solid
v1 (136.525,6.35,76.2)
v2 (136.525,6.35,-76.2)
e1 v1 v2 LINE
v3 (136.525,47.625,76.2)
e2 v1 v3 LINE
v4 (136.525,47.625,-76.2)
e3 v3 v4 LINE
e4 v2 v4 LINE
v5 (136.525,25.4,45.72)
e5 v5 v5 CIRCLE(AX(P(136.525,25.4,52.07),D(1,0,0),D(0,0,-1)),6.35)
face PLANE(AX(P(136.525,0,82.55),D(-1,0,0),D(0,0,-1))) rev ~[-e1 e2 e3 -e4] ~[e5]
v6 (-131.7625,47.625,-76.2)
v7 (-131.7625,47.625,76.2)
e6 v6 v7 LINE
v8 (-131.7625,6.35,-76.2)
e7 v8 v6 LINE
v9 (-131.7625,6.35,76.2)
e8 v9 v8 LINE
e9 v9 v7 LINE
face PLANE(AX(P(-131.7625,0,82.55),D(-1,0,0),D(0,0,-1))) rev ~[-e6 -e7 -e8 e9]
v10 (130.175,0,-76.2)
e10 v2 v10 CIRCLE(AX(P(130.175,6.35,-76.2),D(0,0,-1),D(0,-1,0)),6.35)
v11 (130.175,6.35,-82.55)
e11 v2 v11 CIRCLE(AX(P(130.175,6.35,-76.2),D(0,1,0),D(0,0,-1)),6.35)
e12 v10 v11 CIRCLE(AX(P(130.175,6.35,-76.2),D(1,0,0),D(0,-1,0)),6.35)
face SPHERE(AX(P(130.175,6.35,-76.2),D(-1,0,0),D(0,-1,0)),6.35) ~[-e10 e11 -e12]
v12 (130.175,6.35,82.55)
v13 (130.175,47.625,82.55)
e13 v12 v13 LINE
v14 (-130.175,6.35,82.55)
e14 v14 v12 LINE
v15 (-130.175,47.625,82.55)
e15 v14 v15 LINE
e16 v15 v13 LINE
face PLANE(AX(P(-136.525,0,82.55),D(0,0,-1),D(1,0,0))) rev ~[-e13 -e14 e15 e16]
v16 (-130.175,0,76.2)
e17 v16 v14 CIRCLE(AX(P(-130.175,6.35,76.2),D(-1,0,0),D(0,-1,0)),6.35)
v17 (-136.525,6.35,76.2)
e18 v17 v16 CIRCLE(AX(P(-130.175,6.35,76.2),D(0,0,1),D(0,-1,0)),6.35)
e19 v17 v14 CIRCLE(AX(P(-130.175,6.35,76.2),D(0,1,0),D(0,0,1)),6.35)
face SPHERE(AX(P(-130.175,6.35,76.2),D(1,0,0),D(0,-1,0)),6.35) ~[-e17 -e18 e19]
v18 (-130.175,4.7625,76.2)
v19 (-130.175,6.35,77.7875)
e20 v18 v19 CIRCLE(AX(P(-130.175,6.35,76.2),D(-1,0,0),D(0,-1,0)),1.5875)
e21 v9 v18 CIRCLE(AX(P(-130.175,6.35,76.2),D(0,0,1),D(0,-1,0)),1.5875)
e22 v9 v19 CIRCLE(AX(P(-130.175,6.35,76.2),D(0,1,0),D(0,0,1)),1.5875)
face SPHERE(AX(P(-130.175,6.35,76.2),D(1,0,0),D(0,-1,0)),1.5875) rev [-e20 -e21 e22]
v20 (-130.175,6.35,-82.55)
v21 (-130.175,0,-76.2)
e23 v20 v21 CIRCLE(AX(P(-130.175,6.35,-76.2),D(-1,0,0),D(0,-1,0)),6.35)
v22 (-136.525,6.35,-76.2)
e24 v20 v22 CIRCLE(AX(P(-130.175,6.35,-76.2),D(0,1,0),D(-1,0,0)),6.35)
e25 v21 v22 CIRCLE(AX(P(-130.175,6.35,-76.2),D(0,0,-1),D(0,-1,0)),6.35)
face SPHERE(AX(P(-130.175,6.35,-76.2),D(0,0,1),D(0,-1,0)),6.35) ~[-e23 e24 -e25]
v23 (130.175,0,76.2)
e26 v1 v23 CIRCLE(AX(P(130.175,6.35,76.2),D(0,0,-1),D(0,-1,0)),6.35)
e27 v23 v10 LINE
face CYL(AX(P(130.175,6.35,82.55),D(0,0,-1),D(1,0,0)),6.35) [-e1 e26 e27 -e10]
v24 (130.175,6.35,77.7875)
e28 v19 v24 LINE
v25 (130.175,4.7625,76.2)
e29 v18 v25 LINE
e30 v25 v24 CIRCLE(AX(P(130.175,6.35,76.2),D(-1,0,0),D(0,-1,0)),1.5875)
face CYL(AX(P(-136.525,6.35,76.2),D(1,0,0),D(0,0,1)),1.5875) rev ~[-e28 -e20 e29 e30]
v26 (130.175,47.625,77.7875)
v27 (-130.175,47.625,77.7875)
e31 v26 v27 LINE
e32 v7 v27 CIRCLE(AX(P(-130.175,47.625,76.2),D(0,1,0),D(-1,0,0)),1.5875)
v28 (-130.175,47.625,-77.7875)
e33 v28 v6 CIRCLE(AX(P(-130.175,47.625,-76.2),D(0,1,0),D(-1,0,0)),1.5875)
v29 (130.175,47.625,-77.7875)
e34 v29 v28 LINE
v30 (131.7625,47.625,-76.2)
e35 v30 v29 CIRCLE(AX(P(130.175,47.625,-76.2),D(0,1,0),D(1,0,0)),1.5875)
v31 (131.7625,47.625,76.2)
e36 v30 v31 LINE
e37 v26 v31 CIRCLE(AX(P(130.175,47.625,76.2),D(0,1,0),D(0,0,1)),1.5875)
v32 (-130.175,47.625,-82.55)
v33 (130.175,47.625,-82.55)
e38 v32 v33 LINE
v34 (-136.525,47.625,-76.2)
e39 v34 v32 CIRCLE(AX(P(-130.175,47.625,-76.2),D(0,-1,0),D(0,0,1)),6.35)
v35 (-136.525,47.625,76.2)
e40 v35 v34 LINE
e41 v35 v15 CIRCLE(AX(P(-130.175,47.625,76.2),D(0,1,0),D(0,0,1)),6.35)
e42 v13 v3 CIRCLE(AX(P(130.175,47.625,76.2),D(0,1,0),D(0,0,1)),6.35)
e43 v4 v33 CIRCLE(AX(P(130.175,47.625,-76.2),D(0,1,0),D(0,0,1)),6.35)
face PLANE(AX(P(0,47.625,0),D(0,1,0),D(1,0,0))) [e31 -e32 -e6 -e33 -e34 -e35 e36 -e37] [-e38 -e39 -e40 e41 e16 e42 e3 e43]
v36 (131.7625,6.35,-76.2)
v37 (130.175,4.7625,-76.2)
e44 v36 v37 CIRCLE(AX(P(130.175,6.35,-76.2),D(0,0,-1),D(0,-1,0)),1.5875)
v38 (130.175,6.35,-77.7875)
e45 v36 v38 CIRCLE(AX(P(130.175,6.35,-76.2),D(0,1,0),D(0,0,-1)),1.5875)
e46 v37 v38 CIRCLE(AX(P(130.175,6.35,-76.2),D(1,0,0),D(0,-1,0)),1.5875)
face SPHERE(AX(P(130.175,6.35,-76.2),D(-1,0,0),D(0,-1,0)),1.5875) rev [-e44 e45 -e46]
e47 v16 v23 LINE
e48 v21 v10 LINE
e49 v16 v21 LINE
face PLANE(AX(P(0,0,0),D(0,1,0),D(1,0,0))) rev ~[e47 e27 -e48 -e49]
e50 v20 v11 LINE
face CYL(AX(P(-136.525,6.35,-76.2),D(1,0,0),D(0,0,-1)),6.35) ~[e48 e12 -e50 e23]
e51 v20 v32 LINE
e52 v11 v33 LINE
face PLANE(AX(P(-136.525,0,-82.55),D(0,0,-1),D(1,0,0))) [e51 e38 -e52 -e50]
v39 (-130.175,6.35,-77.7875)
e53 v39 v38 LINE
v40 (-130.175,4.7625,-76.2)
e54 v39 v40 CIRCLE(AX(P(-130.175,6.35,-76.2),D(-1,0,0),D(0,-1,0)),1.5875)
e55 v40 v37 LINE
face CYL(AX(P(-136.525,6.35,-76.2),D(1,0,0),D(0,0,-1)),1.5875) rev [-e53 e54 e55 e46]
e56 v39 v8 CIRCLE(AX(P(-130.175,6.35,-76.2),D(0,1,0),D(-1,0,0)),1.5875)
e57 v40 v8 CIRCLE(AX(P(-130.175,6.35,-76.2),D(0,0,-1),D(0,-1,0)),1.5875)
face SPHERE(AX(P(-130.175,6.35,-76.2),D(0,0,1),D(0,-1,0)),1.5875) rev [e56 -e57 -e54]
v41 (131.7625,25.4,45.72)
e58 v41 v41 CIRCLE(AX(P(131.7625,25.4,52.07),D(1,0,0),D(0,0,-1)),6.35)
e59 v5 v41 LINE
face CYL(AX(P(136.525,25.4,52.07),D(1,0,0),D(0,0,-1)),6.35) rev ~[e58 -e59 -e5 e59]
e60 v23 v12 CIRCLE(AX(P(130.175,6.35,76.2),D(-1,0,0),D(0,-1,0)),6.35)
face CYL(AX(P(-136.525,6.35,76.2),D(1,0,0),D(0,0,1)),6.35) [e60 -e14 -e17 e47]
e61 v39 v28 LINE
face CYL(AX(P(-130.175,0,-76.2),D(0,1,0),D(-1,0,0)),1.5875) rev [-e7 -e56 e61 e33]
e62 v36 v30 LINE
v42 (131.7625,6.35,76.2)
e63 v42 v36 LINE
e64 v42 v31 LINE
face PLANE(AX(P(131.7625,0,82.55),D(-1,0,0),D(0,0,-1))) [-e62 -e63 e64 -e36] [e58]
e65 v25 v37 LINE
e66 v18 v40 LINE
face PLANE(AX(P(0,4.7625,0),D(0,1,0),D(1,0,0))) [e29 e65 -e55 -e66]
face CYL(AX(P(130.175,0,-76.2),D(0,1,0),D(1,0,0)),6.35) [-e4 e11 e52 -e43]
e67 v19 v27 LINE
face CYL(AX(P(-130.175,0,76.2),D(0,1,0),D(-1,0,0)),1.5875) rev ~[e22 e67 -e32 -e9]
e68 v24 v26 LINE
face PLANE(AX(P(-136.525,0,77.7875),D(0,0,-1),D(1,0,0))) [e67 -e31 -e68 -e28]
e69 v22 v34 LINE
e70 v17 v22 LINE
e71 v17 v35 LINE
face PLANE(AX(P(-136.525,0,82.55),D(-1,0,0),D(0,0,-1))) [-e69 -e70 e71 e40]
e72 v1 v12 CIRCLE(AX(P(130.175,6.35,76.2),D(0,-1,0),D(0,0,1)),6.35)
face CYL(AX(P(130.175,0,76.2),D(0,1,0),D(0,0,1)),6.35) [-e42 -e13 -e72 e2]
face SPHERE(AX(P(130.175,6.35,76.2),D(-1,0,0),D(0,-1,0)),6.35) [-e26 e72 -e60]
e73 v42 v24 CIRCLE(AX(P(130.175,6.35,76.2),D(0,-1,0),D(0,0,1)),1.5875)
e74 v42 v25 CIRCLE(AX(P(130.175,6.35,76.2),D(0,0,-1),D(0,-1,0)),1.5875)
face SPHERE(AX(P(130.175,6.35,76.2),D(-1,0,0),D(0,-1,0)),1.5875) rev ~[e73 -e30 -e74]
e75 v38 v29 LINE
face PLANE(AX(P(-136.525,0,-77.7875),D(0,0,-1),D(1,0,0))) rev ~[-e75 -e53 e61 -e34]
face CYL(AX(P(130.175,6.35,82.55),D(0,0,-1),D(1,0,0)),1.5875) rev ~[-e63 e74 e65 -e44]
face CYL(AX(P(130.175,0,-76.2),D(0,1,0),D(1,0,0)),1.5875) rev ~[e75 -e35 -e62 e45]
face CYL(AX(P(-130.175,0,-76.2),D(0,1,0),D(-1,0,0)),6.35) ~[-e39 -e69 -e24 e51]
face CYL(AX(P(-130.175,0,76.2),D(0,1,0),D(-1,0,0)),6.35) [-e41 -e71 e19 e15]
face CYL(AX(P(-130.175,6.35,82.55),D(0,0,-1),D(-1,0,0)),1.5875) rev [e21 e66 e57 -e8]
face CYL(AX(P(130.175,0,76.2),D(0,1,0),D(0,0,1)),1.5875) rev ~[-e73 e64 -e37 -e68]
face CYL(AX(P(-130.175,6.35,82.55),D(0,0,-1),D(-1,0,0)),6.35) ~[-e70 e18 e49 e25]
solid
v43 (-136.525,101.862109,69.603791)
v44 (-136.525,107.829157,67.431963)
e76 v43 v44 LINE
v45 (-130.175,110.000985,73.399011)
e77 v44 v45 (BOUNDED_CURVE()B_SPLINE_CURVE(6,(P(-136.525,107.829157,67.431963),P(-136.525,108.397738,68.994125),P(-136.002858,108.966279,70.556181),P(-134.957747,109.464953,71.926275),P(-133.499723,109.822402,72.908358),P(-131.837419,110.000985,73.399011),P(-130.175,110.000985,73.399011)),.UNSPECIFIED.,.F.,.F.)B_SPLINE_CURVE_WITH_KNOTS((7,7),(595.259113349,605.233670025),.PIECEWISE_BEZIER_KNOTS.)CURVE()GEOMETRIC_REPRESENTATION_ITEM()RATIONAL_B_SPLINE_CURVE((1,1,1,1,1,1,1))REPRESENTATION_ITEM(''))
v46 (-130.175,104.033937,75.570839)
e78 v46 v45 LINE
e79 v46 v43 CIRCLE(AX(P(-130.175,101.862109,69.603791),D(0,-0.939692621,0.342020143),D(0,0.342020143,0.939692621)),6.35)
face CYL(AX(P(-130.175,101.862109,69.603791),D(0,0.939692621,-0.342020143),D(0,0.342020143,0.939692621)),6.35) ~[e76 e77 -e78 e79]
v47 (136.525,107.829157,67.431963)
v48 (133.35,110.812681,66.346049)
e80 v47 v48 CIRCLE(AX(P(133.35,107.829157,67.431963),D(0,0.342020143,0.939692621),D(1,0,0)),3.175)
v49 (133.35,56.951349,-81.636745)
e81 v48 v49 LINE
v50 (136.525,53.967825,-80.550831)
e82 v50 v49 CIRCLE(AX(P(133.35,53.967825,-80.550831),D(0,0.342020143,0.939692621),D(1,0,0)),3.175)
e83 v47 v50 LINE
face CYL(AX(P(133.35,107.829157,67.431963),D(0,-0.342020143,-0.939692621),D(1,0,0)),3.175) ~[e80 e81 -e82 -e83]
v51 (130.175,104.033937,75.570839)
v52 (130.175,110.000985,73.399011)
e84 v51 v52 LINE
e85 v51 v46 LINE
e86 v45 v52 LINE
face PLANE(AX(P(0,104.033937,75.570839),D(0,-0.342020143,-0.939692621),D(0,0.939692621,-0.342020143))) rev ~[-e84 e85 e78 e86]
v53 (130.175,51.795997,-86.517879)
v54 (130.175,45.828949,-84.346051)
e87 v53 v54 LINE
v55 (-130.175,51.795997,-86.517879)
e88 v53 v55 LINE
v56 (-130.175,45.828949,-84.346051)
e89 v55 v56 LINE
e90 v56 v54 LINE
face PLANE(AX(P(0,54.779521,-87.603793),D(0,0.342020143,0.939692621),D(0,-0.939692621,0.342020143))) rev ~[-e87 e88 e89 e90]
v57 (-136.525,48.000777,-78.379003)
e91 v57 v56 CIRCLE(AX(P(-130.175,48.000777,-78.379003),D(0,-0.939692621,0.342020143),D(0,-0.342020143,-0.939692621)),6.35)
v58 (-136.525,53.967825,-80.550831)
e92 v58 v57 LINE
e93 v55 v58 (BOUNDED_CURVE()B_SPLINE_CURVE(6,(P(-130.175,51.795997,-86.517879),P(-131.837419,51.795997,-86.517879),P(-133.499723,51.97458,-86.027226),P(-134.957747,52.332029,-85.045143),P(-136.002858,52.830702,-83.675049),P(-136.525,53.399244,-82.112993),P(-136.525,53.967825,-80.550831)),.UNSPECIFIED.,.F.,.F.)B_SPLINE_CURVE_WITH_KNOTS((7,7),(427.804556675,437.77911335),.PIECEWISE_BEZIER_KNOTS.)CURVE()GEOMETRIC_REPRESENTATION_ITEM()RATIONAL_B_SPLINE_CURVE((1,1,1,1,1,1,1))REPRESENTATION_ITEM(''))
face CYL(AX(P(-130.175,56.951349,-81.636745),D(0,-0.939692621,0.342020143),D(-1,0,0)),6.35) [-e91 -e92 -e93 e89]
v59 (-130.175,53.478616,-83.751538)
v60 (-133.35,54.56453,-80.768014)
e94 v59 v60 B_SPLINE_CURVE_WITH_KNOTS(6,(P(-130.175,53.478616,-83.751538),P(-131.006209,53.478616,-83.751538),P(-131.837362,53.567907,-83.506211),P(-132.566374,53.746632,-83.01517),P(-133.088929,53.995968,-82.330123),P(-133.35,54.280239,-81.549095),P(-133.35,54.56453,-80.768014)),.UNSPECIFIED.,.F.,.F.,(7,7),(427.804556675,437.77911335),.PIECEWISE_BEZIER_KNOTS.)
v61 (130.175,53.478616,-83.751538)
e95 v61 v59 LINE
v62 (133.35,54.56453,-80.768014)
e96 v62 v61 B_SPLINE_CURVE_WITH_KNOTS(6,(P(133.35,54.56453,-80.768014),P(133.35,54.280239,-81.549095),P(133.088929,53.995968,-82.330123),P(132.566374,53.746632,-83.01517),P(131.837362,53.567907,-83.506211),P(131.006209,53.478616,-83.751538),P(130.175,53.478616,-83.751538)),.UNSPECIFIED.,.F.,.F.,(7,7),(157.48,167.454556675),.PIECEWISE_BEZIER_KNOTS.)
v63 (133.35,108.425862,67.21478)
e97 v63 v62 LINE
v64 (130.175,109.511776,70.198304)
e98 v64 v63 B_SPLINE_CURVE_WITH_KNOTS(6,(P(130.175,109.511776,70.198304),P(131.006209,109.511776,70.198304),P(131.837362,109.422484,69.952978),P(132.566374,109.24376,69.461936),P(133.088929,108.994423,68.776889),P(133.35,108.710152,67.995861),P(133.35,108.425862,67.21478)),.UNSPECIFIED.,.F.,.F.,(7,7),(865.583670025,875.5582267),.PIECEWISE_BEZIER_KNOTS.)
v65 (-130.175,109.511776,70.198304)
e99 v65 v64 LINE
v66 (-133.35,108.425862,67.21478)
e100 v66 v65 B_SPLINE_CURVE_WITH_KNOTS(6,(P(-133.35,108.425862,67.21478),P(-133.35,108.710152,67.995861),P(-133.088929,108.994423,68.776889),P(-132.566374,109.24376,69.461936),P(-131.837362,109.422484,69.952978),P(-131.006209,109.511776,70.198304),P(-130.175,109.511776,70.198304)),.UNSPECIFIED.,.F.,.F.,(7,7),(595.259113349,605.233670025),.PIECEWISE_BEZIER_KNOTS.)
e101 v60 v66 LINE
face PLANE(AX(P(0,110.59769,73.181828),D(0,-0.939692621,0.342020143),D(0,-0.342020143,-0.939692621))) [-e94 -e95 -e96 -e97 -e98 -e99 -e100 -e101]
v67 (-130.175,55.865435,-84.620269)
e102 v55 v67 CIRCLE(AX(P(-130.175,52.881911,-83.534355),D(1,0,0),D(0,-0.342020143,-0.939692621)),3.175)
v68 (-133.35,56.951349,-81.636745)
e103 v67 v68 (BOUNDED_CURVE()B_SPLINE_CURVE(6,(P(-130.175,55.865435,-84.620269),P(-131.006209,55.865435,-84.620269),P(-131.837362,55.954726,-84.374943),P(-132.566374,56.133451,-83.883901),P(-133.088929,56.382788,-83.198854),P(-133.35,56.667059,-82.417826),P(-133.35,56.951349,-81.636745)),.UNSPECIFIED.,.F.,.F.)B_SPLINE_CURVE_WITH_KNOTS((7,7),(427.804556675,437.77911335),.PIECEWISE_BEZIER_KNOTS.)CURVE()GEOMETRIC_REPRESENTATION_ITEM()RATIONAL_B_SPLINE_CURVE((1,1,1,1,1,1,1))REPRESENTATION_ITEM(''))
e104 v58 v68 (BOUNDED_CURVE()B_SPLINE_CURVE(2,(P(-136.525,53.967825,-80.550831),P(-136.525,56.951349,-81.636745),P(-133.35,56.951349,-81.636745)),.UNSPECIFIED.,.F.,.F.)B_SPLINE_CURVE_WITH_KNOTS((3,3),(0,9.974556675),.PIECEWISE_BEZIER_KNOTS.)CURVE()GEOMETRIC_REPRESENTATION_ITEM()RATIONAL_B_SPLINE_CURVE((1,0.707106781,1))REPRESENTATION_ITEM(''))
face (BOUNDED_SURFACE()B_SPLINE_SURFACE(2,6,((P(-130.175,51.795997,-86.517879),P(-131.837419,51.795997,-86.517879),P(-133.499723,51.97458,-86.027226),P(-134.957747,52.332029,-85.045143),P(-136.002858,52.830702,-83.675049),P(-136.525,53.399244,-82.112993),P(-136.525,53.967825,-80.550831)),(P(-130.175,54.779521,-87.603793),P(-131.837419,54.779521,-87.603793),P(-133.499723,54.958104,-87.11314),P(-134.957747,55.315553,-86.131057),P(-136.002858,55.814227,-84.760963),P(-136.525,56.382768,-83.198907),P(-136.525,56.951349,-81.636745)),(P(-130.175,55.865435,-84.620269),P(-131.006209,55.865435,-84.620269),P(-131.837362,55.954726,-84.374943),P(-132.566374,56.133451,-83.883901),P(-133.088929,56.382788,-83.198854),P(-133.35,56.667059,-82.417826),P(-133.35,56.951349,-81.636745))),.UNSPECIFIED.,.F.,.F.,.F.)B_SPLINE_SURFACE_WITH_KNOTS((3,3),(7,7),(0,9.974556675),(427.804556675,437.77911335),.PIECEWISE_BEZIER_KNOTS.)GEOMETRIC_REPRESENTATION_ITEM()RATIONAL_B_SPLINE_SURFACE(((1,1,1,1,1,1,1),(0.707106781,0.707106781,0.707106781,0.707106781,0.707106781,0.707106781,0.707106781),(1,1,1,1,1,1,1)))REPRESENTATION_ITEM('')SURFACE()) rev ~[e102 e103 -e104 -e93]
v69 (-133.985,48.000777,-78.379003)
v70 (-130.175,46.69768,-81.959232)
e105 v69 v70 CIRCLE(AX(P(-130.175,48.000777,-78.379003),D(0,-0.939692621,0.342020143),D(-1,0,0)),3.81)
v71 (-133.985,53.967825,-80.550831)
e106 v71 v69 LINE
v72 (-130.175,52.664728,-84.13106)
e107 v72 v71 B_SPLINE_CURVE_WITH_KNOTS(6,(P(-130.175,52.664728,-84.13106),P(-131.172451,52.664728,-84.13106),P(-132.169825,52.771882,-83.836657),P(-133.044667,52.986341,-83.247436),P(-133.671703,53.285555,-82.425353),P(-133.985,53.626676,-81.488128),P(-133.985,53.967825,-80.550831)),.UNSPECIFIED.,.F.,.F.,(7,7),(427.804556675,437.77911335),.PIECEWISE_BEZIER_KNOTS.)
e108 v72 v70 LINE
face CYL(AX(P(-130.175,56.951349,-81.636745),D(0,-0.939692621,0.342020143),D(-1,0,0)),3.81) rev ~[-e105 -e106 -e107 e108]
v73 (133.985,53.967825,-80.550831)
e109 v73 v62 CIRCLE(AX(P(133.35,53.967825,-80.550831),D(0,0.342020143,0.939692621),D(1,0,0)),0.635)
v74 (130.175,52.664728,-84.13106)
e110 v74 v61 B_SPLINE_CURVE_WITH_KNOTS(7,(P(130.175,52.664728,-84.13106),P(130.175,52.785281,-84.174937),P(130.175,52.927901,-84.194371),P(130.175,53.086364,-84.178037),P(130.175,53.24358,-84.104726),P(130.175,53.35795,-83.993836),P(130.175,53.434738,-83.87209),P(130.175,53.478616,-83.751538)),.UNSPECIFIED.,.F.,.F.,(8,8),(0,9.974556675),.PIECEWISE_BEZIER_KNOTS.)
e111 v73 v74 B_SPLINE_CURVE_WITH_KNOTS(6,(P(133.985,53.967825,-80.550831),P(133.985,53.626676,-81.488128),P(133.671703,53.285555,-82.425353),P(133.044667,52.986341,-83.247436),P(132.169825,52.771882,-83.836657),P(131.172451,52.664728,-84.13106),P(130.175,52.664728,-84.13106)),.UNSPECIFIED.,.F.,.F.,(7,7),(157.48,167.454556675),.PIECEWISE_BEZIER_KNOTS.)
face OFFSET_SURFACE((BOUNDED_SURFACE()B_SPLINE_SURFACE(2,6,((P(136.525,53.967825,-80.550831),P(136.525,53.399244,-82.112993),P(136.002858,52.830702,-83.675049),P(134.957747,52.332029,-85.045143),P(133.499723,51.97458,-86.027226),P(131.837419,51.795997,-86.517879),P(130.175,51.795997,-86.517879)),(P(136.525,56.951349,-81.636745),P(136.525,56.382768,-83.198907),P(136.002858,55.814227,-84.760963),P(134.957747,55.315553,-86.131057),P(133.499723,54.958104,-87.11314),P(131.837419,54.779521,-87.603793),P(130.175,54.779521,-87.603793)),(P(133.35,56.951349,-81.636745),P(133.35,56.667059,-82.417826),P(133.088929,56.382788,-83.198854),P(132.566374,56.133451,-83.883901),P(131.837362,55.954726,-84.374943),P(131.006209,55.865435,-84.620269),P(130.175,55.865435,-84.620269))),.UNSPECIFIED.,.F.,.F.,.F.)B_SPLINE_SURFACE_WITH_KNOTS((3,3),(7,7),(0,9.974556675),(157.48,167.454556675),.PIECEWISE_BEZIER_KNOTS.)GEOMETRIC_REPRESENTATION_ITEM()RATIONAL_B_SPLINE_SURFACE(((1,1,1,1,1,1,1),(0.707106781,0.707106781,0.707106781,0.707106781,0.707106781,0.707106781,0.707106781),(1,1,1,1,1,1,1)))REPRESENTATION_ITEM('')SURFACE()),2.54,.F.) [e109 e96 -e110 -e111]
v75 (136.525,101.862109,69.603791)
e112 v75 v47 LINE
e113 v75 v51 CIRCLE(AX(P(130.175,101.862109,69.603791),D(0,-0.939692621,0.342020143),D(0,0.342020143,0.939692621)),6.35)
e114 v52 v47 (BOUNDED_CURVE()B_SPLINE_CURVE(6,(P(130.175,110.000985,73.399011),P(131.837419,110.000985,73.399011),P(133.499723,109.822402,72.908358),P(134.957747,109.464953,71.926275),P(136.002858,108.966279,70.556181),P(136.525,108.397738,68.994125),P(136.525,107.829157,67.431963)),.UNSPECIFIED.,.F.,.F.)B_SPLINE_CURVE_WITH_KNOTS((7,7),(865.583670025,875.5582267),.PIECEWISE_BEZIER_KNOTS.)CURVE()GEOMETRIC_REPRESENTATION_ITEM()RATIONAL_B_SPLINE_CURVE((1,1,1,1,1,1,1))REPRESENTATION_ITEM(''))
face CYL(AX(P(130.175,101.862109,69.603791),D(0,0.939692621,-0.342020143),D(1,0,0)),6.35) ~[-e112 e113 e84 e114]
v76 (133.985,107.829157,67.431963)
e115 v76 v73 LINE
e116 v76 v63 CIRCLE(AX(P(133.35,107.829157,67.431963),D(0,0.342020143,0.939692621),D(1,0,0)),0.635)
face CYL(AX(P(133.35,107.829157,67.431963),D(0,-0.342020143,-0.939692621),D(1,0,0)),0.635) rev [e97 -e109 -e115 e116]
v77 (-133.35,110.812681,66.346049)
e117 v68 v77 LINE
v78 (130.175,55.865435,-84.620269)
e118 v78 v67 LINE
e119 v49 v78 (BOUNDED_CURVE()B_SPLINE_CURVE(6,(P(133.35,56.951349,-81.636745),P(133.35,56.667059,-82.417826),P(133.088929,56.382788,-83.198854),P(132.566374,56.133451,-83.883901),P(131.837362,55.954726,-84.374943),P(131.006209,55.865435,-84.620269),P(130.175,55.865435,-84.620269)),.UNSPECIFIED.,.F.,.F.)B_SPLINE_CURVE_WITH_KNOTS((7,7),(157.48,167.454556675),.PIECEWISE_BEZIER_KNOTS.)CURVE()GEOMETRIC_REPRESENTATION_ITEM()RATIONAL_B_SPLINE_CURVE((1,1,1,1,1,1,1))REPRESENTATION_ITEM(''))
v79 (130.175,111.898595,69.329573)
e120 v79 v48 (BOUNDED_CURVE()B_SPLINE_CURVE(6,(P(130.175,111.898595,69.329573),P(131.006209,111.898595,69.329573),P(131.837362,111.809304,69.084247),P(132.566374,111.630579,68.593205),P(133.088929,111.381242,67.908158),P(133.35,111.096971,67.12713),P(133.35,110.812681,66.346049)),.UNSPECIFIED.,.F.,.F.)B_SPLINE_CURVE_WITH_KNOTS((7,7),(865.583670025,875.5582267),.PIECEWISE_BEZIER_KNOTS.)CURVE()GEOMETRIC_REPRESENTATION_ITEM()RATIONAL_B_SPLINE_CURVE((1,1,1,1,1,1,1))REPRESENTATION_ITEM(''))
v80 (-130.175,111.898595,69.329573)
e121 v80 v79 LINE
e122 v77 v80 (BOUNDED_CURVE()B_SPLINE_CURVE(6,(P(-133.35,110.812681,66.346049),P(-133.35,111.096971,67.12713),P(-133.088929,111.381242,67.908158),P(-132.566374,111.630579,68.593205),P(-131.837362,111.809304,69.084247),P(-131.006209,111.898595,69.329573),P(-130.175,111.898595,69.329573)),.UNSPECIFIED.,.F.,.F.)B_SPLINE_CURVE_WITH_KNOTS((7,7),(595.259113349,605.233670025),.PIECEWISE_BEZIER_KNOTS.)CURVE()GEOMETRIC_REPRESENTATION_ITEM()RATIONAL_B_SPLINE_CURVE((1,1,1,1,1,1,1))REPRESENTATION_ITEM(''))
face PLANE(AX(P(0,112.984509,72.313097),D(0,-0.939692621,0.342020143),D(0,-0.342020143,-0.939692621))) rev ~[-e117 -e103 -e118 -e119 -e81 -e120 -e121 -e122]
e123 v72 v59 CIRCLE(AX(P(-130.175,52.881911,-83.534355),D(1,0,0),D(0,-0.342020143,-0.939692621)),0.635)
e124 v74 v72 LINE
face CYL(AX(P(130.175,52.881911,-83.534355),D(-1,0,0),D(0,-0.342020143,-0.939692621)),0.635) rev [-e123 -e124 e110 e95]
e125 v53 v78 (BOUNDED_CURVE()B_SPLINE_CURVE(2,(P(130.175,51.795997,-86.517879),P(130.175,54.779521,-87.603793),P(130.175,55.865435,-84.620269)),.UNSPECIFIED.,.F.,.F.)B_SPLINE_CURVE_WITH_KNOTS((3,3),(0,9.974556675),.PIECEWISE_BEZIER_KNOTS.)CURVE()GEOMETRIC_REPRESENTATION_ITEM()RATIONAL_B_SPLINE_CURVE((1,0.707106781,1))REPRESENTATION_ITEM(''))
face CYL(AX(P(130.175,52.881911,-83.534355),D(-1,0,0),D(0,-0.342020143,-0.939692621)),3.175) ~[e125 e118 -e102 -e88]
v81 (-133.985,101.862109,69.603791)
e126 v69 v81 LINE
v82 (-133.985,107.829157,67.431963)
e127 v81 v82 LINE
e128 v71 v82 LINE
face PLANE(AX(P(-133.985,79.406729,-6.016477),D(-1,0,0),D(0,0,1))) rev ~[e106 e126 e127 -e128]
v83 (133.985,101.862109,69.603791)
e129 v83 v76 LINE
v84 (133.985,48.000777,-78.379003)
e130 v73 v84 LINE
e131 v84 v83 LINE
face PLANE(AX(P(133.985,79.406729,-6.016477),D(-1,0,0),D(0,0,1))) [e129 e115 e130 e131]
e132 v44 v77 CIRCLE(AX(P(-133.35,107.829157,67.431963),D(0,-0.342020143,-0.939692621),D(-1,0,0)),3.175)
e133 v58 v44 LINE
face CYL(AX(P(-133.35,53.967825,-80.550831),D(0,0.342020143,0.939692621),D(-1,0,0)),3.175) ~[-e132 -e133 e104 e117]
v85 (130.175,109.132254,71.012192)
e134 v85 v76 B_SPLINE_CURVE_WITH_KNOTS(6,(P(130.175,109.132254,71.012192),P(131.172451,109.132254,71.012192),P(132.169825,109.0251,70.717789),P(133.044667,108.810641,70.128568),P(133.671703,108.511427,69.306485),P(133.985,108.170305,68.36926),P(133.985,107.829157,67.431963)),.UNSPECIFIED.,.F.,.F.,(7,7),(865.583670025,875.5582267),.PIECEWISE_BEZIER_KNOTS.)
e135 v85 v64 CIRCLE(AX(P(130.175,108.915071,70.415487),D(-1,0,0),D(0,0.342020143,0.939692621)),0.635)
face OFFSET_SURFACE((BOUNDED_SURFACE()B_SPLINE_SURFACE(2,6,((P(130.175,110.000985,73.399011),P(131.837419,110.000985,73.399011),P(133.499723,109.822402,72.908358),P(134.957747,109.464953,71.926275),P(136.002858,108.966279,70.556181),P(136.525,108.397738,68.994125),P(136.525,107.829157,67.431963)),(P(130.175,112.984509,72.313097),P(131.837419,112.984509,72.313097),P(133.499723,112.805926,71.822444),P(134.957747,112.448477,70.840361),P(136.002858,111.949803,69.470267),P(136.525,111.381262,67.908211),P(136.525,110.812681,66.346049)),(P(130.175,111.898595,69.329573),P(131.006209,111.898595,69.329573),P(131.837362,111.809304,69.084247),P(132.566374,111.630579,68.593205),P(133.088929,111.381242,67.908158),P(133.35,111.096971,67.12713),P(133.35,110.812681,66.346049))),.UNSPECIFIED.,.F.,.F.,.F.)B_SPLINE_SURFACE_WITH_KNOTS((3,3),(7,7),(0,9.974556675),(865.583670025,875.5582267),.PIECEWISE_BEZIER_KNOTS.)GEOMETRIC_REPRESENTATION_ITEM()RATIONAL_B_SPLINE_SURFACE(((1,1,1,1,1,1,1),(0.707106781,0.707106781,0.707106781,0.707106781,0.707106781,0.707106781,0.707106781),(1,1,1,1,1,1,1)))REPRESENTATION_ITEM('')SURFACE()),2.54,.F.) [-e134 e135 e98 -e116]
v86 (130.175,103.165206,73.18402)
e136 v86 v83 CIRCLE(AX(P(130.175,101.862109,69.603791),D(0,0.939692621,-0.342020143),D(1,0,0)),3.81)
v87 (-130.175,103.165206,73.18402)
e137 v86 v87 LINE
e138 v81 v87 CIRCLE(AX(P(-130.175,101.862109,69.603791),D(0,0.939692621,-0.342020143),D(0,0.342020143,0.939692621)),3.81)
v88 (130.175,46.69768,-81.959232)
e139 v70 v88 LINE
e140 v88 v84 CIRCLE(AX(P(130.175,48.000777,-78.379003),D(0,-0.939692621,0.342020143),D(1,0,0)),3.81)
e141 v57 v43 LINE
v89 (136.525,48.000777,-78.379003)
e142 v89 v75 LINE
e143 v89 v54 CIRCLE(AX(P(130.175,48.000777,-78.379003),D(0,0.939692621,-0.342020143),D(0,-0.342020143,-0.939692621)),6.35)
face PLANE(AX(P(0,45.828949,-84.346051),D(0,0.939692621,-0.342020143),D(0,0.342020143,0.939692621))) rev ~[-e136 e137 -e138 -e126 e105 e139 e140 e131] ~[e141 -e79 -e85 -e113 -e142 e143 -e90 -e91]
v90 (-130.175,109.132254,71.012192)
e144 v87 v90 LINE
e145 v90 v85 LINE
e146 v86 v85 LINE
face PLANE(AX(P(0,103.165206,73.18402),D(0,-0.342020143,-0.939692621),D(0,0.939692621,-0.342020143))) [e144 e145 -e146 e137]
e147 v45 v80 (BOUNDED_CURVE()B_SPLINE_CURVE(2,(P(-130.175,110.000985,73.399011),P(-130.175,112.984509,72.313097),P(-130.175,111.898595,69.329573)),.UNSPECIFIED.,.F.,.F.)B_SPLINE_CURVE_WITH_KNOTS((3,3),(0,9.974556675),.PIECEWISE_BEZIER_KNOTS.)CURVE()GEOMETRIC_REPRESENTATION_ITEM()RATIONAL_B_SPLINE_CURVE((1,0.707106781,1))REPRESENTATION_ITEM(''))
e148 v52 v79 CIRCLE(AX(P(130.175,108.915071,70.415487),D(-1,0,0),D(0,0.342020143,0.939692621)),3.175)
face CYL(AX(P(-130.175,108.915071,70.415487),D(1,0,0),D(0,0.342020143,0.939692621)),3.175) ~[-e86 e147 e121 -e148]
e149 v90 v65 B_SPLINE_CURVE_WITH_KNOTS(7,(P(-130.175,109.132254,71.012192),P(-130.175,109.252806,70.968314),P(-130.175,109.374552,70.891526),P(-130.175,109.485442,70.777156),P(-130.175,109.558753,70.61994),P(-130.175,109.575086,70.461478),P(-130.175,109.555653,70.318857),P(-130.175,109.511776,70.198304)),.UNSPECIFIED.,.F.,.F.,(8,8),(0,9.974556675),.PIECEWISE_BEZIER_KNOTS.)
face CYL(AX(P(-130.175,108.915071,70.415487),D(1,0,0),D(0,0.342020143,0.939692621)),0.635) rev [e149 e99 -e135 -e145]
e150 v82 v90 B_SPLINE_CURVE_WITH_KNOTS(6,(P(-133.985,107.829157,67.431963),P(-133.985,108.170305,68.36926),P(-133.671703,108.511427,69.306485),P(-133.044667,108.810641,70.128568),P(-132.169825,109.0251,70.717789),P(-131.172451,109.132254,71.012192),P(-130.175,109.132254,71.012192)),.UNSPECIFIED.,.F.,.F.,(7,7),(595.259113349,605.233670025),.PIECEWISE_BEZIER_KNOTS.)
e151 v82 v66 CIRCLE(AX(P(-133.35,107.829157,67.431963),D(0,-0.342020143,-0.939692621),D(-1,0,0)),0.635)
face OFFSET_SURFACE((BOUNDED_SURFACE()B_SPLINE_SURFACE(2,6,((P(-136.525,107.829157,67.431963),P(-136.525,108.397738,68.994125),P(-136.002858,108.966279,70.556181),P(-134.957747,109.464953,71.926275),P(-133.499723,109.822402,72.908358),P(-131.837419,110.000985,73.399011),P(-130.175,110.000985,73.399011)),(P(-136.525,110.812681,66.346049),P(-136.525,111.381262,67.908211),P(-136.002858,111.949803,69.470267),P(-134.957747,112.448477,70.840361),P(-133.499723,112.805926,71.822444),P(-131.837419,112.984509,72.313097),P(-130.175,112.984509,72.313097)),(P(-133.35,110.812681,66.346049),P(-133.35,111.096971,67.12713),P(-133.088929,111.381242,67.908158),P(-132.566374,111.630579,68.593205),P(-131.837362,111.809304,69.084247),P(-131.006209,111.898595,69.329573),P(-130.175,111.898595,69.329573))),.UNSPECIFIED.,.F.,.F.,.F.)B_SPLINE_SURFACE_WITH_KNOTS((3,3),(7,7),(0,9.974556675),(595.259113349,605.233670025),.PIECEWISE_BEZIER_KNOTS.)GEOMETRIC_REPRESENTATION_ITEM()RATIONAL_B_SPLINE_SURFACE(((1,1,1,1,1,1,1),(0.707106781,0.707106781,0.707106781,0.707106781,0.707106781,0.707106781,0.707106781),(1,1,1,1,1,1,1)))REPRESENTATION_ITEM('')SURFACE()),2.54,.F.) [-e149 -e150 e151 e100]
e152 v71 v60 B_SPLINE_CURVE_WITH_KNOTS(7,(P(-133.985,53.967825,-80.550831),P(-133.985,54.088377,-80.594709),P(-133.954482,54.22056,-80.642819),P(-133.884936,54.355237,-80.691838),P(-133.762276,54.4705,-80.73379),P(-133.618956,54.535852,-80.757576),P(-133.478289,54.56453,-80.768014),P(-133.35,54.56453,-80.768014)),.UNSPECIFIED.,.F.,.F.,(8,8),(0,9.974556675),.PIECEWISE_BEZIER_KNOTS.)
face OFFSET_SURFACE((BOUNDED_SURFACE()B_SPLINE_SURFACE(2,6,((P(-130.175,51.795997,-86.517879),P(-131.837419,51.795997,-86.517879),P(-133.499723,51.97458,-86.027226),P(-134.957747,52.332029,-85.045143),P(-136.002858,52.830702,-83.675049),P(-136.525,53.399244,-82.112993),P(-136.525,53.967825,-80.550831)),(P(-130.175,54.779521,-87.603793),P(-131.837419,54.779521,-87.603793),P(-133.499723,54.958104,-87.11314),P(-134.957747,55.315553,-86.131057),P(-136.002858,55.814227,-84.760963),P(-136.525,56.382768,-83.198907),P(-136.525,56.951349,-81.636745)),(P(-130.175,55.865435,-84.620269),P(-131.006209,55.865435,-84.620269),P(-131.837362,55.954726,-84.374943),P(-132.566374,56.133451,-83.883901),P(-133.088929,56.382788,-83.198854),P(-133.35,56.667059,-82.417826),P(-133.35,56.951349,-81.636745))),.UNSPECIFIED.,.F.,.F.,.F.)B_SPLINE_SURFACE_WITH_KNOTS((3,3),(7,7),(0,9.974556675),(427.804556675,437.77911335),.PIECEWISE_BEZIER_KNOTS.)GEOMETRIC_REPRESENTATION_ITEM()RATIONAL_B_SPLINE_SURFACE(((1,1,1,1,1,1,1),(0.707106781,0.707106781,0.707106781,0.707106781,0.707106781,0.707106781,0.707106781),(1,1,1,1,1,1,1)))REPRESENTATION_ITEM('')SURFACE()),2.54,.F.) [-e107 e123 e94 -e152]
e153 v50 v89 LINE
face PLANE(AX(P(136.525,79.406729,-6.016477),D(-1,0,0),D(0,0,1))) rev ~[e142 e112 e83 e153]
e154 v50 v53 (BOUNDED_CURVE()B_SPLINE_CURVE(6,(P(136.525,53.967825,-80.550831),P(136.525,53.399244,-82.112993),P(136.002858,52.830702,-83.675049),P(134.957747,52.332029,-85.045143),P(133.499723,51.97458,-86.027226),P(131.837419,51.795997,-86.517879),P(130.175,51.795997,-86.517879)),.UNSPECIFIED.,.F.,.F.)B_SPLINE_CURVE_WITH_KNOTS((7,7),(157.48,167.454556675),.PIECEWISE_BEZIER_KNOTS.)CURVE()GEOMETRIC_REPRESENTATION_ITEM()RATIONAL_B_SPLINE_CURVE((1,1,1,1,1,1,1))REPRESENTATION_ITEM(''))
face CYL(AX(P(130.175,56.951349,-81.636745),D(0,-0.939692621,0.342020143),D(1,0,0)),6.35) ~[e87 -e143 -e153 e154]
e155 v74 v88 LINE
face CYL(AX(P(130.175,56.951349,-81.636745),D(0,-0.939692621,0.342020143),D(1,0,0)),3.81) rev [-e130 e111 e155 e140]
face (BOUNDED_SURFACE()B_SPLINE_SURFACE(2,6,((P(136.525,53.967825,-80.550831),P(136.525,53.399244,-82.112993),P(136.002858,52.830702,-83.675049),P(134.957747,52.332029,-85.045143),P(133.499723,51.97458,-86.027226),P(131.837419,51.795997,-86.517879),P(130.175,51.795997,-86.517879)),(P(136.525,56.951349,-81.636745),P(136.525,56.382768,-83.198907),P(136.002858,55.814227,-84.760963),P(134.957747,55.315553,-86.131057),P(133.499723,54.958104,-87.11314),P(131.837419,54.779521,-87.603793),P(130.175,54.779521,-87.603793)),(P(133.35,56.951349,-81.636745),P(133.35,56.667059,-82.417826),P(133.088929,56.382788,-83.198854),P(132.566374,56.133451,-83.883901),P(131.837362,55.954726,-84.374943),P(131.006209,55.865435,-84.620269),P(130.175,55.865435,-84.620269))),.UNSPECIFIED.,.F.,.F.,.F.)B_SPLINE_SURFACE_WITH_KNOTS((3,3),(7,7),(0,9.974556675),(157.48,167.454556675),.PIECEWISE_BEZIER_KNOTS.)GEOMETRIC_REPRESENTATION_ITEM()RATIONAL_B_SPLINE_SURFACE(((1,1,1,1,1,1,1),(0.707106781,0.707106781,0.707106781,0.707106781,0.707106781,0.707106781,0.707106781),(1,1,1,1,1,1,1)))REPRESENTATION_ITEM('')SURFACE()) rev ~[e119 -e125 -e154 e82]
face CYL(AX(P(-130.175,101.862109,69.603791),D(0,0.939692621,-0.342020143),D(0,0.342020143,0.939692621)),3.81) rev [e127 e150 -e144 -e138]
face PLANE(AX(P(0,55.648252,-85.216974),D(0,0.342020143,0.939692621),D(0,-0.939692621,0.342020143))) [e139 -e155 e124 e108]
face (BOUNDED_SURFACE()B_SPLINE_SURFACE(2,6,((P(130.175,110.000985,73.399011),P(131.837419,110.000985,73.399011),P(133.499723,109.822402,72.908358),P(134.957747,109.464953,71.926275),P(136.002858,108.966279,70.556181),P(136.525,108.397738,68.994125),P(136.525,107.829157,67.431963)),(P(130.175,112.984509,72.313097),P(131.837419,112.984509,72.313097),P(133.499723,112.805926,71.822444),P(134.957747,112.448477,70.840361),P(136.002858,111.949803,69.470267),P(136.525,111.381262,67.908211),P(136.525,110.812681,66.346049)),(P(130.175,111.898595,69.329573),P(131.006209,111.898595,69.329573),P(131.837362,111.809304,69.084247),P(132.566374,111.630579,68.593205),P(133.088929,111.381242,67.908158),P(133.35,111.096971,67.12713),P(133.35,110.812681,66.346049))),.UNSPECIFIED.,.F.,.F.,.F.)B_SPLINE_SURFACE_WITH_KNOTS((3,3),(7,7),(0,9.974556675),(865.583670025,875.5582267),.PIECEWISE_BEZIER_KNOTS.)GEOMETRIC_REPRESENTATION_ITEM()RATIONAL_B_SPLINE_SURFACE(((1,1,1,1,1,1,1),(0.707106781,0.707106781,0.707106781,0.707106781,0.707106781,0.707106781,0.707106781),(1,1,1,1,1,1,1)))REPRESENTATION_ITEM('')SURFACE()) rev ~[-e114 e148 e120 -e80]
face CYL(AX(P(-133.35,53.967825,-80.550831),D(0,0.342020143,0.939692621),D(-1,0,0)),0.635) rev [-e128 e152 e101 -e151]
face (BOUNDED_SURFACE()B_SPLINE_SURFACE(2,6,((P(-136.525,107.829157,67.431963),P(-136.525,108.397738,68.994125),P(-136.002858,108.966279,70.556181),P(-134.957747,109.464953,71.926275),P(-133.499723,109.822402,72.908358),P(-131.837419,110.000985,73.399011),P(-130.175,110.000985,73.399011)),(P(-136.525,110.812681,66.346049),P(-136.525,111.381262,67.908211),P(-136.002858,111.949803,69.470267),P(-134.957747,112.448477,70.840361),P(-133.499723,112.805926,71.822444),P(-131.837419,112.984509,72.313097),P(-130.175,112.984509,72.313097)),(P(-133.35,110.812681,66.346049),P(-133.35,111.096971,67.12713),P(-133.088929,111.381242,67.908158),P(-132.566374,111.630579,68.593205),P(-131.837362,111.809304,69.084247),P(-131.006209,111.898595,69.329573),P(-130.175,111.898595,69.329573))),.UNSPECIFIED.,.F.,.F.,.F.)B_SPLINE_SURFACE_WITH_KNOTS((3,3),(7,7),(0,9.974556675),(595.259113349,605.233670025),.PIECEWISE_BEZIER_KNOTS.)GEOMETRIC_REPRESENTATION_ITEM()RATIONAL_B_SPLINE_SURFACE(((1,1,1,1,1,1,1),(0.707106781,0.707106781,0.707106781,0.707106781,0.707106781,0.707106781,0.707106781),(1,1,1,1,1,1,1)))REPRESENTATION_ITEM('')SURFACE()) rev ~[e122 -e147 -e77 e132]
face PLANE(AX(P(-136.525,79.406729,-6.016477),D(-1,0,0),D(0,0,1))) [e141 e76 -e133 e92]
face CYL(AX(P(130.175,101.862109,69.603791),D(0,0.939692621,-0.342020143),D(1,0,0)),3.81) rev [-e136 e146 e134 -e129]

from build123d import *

# Parameters (mm, degrees)
SKETCH1_W                       = 273.05
SKETCH1_H                       = 165.1
BOSS_EXTRUDE1_DEPTH             = 47.625
FILLET1_R                       = 6.35
SHELL1_T                        = -4.7625
LID_OPENING_ANGLE_CONTROL_DEPTH = 136.525
FILLET2_R                       = 6.35
FILLET3_R                       = 3.175
SHELL2_T                        = -2.54
SKETCH3_R                       = 6.35
CUT_EXTRUDE1_DEPTH              = 4.7625


with BuildPart() as part:
    # Sketch1 → Boss-Extrude1 (new body)
    with BuildSketch(Plane(origin=(0, 0, 0), x_dir=(1, 0, 0), z_dir=(0, 1, 0))):
        Rectangle(SKETCH1_W, SKETCH1_H)
    extrude(amount=BOSS_EXTRUDE1_DEPTH)

    # Fillet1
    fillet1_edges = [part.edges().sort_by_distance(p)[0] for p in [
        (0, 0, 82.55),
        (-136.525, 0, 0),
        (0, 0, -82.55),
        (136.525, 0, 0),
        (136.525, 23.8125, 82.55),
        (-136.525, 23.8125, 82.55),
        (-136.525, 23.8125, -82.55),
        (136.525, 23.8125, -82.55),
    ]]
    fillet(fillet1_edges, radius=FILLET1_R)

    # Shell1
    shell1_openings = [part.faces().sort_by_distance(p)[0] for p in [
        (0, 47.625, 0),
    ]]
    offset(amount=SHELL1_T, openings=shell1_openings, kind=Kind.INTERSECTION)

    # Sketch3 → Cut-Extrude1 (cut)
    with BuildSketch(Plane(origin=(136.525, 0, 0), x_dir=(0, 0, -1), z_dir=(1, 0, 0))):
        with Locations((-52.07, 25.4)):
            Circle(SKETCH3_R)
    extrude(amount=-CUT_EXTRUDE1_DEPTH, mode=Mode.SUBTRACT)


with BuildPart() as body_2:
    # Sketch2 → LID OPENING ANGLE CONTROL (new, symmetric)
    with BuildSketch(Plane(origin=(0, 0, 0), x_dir=(0, 0, -1), z_dir=(1, 0, 0))):
        Polygon((84.346051224, 45.828948776), (-75.570838981, 104.033936767), (-72.313097116, 112.98450898), (87.603793089, 54.779520989), align=None)
    extrude(amount=LID_OPENING_ANGLE_CONTROL_DEPTH, both=True)

    # Fillet2
    fillet2_edges = [body_2.edges().sort_by_distance(p)[0] for p in [
        (136.525, 108.509222873, 73.941968049),
        (136.525, 50.304234882, -85.974922157),
        (-136.525, 108.509222873, 73.941968049),
        (-136.525, 50.304234882, -85.974922157),
    ]]
    fillet(fillet2_edges, radius=FILLET2_R)

    # Fillet3
    fillet3_edges = [body_2.edges().sort_by_distance(p)[0] for p in [
        (136.525, 83.882014984, -7.645347987),
        (-136.525, 83.882014984, -7.645347987),
        (0, 112.98450898, 72.313097116),
        (0, 54.779520989, -87.603793089),
        (-134.665128061, 112.348395313, 70.565389179),
        (134.665128061, 112.348395313, 70.565389179),
        (-134.665128061, 55.415634656, -85.856085152),
        (134.665128061, 55.415634656, -85.856085152),
    ]]
    fillet(fillet3_edges, radius=FILLET3_R)

    # Shell2
    shell2_openings = [body_2.faces().sort_by_distance(p)[0] for p in [
        (0, 74.931442771, -4.387606122),
    ]]
    offset(amount=SHELL2_T, openings=shell2_openings, kind=Kind.INTERSECTION)


solid = Compound([part.part, body_2.part])
